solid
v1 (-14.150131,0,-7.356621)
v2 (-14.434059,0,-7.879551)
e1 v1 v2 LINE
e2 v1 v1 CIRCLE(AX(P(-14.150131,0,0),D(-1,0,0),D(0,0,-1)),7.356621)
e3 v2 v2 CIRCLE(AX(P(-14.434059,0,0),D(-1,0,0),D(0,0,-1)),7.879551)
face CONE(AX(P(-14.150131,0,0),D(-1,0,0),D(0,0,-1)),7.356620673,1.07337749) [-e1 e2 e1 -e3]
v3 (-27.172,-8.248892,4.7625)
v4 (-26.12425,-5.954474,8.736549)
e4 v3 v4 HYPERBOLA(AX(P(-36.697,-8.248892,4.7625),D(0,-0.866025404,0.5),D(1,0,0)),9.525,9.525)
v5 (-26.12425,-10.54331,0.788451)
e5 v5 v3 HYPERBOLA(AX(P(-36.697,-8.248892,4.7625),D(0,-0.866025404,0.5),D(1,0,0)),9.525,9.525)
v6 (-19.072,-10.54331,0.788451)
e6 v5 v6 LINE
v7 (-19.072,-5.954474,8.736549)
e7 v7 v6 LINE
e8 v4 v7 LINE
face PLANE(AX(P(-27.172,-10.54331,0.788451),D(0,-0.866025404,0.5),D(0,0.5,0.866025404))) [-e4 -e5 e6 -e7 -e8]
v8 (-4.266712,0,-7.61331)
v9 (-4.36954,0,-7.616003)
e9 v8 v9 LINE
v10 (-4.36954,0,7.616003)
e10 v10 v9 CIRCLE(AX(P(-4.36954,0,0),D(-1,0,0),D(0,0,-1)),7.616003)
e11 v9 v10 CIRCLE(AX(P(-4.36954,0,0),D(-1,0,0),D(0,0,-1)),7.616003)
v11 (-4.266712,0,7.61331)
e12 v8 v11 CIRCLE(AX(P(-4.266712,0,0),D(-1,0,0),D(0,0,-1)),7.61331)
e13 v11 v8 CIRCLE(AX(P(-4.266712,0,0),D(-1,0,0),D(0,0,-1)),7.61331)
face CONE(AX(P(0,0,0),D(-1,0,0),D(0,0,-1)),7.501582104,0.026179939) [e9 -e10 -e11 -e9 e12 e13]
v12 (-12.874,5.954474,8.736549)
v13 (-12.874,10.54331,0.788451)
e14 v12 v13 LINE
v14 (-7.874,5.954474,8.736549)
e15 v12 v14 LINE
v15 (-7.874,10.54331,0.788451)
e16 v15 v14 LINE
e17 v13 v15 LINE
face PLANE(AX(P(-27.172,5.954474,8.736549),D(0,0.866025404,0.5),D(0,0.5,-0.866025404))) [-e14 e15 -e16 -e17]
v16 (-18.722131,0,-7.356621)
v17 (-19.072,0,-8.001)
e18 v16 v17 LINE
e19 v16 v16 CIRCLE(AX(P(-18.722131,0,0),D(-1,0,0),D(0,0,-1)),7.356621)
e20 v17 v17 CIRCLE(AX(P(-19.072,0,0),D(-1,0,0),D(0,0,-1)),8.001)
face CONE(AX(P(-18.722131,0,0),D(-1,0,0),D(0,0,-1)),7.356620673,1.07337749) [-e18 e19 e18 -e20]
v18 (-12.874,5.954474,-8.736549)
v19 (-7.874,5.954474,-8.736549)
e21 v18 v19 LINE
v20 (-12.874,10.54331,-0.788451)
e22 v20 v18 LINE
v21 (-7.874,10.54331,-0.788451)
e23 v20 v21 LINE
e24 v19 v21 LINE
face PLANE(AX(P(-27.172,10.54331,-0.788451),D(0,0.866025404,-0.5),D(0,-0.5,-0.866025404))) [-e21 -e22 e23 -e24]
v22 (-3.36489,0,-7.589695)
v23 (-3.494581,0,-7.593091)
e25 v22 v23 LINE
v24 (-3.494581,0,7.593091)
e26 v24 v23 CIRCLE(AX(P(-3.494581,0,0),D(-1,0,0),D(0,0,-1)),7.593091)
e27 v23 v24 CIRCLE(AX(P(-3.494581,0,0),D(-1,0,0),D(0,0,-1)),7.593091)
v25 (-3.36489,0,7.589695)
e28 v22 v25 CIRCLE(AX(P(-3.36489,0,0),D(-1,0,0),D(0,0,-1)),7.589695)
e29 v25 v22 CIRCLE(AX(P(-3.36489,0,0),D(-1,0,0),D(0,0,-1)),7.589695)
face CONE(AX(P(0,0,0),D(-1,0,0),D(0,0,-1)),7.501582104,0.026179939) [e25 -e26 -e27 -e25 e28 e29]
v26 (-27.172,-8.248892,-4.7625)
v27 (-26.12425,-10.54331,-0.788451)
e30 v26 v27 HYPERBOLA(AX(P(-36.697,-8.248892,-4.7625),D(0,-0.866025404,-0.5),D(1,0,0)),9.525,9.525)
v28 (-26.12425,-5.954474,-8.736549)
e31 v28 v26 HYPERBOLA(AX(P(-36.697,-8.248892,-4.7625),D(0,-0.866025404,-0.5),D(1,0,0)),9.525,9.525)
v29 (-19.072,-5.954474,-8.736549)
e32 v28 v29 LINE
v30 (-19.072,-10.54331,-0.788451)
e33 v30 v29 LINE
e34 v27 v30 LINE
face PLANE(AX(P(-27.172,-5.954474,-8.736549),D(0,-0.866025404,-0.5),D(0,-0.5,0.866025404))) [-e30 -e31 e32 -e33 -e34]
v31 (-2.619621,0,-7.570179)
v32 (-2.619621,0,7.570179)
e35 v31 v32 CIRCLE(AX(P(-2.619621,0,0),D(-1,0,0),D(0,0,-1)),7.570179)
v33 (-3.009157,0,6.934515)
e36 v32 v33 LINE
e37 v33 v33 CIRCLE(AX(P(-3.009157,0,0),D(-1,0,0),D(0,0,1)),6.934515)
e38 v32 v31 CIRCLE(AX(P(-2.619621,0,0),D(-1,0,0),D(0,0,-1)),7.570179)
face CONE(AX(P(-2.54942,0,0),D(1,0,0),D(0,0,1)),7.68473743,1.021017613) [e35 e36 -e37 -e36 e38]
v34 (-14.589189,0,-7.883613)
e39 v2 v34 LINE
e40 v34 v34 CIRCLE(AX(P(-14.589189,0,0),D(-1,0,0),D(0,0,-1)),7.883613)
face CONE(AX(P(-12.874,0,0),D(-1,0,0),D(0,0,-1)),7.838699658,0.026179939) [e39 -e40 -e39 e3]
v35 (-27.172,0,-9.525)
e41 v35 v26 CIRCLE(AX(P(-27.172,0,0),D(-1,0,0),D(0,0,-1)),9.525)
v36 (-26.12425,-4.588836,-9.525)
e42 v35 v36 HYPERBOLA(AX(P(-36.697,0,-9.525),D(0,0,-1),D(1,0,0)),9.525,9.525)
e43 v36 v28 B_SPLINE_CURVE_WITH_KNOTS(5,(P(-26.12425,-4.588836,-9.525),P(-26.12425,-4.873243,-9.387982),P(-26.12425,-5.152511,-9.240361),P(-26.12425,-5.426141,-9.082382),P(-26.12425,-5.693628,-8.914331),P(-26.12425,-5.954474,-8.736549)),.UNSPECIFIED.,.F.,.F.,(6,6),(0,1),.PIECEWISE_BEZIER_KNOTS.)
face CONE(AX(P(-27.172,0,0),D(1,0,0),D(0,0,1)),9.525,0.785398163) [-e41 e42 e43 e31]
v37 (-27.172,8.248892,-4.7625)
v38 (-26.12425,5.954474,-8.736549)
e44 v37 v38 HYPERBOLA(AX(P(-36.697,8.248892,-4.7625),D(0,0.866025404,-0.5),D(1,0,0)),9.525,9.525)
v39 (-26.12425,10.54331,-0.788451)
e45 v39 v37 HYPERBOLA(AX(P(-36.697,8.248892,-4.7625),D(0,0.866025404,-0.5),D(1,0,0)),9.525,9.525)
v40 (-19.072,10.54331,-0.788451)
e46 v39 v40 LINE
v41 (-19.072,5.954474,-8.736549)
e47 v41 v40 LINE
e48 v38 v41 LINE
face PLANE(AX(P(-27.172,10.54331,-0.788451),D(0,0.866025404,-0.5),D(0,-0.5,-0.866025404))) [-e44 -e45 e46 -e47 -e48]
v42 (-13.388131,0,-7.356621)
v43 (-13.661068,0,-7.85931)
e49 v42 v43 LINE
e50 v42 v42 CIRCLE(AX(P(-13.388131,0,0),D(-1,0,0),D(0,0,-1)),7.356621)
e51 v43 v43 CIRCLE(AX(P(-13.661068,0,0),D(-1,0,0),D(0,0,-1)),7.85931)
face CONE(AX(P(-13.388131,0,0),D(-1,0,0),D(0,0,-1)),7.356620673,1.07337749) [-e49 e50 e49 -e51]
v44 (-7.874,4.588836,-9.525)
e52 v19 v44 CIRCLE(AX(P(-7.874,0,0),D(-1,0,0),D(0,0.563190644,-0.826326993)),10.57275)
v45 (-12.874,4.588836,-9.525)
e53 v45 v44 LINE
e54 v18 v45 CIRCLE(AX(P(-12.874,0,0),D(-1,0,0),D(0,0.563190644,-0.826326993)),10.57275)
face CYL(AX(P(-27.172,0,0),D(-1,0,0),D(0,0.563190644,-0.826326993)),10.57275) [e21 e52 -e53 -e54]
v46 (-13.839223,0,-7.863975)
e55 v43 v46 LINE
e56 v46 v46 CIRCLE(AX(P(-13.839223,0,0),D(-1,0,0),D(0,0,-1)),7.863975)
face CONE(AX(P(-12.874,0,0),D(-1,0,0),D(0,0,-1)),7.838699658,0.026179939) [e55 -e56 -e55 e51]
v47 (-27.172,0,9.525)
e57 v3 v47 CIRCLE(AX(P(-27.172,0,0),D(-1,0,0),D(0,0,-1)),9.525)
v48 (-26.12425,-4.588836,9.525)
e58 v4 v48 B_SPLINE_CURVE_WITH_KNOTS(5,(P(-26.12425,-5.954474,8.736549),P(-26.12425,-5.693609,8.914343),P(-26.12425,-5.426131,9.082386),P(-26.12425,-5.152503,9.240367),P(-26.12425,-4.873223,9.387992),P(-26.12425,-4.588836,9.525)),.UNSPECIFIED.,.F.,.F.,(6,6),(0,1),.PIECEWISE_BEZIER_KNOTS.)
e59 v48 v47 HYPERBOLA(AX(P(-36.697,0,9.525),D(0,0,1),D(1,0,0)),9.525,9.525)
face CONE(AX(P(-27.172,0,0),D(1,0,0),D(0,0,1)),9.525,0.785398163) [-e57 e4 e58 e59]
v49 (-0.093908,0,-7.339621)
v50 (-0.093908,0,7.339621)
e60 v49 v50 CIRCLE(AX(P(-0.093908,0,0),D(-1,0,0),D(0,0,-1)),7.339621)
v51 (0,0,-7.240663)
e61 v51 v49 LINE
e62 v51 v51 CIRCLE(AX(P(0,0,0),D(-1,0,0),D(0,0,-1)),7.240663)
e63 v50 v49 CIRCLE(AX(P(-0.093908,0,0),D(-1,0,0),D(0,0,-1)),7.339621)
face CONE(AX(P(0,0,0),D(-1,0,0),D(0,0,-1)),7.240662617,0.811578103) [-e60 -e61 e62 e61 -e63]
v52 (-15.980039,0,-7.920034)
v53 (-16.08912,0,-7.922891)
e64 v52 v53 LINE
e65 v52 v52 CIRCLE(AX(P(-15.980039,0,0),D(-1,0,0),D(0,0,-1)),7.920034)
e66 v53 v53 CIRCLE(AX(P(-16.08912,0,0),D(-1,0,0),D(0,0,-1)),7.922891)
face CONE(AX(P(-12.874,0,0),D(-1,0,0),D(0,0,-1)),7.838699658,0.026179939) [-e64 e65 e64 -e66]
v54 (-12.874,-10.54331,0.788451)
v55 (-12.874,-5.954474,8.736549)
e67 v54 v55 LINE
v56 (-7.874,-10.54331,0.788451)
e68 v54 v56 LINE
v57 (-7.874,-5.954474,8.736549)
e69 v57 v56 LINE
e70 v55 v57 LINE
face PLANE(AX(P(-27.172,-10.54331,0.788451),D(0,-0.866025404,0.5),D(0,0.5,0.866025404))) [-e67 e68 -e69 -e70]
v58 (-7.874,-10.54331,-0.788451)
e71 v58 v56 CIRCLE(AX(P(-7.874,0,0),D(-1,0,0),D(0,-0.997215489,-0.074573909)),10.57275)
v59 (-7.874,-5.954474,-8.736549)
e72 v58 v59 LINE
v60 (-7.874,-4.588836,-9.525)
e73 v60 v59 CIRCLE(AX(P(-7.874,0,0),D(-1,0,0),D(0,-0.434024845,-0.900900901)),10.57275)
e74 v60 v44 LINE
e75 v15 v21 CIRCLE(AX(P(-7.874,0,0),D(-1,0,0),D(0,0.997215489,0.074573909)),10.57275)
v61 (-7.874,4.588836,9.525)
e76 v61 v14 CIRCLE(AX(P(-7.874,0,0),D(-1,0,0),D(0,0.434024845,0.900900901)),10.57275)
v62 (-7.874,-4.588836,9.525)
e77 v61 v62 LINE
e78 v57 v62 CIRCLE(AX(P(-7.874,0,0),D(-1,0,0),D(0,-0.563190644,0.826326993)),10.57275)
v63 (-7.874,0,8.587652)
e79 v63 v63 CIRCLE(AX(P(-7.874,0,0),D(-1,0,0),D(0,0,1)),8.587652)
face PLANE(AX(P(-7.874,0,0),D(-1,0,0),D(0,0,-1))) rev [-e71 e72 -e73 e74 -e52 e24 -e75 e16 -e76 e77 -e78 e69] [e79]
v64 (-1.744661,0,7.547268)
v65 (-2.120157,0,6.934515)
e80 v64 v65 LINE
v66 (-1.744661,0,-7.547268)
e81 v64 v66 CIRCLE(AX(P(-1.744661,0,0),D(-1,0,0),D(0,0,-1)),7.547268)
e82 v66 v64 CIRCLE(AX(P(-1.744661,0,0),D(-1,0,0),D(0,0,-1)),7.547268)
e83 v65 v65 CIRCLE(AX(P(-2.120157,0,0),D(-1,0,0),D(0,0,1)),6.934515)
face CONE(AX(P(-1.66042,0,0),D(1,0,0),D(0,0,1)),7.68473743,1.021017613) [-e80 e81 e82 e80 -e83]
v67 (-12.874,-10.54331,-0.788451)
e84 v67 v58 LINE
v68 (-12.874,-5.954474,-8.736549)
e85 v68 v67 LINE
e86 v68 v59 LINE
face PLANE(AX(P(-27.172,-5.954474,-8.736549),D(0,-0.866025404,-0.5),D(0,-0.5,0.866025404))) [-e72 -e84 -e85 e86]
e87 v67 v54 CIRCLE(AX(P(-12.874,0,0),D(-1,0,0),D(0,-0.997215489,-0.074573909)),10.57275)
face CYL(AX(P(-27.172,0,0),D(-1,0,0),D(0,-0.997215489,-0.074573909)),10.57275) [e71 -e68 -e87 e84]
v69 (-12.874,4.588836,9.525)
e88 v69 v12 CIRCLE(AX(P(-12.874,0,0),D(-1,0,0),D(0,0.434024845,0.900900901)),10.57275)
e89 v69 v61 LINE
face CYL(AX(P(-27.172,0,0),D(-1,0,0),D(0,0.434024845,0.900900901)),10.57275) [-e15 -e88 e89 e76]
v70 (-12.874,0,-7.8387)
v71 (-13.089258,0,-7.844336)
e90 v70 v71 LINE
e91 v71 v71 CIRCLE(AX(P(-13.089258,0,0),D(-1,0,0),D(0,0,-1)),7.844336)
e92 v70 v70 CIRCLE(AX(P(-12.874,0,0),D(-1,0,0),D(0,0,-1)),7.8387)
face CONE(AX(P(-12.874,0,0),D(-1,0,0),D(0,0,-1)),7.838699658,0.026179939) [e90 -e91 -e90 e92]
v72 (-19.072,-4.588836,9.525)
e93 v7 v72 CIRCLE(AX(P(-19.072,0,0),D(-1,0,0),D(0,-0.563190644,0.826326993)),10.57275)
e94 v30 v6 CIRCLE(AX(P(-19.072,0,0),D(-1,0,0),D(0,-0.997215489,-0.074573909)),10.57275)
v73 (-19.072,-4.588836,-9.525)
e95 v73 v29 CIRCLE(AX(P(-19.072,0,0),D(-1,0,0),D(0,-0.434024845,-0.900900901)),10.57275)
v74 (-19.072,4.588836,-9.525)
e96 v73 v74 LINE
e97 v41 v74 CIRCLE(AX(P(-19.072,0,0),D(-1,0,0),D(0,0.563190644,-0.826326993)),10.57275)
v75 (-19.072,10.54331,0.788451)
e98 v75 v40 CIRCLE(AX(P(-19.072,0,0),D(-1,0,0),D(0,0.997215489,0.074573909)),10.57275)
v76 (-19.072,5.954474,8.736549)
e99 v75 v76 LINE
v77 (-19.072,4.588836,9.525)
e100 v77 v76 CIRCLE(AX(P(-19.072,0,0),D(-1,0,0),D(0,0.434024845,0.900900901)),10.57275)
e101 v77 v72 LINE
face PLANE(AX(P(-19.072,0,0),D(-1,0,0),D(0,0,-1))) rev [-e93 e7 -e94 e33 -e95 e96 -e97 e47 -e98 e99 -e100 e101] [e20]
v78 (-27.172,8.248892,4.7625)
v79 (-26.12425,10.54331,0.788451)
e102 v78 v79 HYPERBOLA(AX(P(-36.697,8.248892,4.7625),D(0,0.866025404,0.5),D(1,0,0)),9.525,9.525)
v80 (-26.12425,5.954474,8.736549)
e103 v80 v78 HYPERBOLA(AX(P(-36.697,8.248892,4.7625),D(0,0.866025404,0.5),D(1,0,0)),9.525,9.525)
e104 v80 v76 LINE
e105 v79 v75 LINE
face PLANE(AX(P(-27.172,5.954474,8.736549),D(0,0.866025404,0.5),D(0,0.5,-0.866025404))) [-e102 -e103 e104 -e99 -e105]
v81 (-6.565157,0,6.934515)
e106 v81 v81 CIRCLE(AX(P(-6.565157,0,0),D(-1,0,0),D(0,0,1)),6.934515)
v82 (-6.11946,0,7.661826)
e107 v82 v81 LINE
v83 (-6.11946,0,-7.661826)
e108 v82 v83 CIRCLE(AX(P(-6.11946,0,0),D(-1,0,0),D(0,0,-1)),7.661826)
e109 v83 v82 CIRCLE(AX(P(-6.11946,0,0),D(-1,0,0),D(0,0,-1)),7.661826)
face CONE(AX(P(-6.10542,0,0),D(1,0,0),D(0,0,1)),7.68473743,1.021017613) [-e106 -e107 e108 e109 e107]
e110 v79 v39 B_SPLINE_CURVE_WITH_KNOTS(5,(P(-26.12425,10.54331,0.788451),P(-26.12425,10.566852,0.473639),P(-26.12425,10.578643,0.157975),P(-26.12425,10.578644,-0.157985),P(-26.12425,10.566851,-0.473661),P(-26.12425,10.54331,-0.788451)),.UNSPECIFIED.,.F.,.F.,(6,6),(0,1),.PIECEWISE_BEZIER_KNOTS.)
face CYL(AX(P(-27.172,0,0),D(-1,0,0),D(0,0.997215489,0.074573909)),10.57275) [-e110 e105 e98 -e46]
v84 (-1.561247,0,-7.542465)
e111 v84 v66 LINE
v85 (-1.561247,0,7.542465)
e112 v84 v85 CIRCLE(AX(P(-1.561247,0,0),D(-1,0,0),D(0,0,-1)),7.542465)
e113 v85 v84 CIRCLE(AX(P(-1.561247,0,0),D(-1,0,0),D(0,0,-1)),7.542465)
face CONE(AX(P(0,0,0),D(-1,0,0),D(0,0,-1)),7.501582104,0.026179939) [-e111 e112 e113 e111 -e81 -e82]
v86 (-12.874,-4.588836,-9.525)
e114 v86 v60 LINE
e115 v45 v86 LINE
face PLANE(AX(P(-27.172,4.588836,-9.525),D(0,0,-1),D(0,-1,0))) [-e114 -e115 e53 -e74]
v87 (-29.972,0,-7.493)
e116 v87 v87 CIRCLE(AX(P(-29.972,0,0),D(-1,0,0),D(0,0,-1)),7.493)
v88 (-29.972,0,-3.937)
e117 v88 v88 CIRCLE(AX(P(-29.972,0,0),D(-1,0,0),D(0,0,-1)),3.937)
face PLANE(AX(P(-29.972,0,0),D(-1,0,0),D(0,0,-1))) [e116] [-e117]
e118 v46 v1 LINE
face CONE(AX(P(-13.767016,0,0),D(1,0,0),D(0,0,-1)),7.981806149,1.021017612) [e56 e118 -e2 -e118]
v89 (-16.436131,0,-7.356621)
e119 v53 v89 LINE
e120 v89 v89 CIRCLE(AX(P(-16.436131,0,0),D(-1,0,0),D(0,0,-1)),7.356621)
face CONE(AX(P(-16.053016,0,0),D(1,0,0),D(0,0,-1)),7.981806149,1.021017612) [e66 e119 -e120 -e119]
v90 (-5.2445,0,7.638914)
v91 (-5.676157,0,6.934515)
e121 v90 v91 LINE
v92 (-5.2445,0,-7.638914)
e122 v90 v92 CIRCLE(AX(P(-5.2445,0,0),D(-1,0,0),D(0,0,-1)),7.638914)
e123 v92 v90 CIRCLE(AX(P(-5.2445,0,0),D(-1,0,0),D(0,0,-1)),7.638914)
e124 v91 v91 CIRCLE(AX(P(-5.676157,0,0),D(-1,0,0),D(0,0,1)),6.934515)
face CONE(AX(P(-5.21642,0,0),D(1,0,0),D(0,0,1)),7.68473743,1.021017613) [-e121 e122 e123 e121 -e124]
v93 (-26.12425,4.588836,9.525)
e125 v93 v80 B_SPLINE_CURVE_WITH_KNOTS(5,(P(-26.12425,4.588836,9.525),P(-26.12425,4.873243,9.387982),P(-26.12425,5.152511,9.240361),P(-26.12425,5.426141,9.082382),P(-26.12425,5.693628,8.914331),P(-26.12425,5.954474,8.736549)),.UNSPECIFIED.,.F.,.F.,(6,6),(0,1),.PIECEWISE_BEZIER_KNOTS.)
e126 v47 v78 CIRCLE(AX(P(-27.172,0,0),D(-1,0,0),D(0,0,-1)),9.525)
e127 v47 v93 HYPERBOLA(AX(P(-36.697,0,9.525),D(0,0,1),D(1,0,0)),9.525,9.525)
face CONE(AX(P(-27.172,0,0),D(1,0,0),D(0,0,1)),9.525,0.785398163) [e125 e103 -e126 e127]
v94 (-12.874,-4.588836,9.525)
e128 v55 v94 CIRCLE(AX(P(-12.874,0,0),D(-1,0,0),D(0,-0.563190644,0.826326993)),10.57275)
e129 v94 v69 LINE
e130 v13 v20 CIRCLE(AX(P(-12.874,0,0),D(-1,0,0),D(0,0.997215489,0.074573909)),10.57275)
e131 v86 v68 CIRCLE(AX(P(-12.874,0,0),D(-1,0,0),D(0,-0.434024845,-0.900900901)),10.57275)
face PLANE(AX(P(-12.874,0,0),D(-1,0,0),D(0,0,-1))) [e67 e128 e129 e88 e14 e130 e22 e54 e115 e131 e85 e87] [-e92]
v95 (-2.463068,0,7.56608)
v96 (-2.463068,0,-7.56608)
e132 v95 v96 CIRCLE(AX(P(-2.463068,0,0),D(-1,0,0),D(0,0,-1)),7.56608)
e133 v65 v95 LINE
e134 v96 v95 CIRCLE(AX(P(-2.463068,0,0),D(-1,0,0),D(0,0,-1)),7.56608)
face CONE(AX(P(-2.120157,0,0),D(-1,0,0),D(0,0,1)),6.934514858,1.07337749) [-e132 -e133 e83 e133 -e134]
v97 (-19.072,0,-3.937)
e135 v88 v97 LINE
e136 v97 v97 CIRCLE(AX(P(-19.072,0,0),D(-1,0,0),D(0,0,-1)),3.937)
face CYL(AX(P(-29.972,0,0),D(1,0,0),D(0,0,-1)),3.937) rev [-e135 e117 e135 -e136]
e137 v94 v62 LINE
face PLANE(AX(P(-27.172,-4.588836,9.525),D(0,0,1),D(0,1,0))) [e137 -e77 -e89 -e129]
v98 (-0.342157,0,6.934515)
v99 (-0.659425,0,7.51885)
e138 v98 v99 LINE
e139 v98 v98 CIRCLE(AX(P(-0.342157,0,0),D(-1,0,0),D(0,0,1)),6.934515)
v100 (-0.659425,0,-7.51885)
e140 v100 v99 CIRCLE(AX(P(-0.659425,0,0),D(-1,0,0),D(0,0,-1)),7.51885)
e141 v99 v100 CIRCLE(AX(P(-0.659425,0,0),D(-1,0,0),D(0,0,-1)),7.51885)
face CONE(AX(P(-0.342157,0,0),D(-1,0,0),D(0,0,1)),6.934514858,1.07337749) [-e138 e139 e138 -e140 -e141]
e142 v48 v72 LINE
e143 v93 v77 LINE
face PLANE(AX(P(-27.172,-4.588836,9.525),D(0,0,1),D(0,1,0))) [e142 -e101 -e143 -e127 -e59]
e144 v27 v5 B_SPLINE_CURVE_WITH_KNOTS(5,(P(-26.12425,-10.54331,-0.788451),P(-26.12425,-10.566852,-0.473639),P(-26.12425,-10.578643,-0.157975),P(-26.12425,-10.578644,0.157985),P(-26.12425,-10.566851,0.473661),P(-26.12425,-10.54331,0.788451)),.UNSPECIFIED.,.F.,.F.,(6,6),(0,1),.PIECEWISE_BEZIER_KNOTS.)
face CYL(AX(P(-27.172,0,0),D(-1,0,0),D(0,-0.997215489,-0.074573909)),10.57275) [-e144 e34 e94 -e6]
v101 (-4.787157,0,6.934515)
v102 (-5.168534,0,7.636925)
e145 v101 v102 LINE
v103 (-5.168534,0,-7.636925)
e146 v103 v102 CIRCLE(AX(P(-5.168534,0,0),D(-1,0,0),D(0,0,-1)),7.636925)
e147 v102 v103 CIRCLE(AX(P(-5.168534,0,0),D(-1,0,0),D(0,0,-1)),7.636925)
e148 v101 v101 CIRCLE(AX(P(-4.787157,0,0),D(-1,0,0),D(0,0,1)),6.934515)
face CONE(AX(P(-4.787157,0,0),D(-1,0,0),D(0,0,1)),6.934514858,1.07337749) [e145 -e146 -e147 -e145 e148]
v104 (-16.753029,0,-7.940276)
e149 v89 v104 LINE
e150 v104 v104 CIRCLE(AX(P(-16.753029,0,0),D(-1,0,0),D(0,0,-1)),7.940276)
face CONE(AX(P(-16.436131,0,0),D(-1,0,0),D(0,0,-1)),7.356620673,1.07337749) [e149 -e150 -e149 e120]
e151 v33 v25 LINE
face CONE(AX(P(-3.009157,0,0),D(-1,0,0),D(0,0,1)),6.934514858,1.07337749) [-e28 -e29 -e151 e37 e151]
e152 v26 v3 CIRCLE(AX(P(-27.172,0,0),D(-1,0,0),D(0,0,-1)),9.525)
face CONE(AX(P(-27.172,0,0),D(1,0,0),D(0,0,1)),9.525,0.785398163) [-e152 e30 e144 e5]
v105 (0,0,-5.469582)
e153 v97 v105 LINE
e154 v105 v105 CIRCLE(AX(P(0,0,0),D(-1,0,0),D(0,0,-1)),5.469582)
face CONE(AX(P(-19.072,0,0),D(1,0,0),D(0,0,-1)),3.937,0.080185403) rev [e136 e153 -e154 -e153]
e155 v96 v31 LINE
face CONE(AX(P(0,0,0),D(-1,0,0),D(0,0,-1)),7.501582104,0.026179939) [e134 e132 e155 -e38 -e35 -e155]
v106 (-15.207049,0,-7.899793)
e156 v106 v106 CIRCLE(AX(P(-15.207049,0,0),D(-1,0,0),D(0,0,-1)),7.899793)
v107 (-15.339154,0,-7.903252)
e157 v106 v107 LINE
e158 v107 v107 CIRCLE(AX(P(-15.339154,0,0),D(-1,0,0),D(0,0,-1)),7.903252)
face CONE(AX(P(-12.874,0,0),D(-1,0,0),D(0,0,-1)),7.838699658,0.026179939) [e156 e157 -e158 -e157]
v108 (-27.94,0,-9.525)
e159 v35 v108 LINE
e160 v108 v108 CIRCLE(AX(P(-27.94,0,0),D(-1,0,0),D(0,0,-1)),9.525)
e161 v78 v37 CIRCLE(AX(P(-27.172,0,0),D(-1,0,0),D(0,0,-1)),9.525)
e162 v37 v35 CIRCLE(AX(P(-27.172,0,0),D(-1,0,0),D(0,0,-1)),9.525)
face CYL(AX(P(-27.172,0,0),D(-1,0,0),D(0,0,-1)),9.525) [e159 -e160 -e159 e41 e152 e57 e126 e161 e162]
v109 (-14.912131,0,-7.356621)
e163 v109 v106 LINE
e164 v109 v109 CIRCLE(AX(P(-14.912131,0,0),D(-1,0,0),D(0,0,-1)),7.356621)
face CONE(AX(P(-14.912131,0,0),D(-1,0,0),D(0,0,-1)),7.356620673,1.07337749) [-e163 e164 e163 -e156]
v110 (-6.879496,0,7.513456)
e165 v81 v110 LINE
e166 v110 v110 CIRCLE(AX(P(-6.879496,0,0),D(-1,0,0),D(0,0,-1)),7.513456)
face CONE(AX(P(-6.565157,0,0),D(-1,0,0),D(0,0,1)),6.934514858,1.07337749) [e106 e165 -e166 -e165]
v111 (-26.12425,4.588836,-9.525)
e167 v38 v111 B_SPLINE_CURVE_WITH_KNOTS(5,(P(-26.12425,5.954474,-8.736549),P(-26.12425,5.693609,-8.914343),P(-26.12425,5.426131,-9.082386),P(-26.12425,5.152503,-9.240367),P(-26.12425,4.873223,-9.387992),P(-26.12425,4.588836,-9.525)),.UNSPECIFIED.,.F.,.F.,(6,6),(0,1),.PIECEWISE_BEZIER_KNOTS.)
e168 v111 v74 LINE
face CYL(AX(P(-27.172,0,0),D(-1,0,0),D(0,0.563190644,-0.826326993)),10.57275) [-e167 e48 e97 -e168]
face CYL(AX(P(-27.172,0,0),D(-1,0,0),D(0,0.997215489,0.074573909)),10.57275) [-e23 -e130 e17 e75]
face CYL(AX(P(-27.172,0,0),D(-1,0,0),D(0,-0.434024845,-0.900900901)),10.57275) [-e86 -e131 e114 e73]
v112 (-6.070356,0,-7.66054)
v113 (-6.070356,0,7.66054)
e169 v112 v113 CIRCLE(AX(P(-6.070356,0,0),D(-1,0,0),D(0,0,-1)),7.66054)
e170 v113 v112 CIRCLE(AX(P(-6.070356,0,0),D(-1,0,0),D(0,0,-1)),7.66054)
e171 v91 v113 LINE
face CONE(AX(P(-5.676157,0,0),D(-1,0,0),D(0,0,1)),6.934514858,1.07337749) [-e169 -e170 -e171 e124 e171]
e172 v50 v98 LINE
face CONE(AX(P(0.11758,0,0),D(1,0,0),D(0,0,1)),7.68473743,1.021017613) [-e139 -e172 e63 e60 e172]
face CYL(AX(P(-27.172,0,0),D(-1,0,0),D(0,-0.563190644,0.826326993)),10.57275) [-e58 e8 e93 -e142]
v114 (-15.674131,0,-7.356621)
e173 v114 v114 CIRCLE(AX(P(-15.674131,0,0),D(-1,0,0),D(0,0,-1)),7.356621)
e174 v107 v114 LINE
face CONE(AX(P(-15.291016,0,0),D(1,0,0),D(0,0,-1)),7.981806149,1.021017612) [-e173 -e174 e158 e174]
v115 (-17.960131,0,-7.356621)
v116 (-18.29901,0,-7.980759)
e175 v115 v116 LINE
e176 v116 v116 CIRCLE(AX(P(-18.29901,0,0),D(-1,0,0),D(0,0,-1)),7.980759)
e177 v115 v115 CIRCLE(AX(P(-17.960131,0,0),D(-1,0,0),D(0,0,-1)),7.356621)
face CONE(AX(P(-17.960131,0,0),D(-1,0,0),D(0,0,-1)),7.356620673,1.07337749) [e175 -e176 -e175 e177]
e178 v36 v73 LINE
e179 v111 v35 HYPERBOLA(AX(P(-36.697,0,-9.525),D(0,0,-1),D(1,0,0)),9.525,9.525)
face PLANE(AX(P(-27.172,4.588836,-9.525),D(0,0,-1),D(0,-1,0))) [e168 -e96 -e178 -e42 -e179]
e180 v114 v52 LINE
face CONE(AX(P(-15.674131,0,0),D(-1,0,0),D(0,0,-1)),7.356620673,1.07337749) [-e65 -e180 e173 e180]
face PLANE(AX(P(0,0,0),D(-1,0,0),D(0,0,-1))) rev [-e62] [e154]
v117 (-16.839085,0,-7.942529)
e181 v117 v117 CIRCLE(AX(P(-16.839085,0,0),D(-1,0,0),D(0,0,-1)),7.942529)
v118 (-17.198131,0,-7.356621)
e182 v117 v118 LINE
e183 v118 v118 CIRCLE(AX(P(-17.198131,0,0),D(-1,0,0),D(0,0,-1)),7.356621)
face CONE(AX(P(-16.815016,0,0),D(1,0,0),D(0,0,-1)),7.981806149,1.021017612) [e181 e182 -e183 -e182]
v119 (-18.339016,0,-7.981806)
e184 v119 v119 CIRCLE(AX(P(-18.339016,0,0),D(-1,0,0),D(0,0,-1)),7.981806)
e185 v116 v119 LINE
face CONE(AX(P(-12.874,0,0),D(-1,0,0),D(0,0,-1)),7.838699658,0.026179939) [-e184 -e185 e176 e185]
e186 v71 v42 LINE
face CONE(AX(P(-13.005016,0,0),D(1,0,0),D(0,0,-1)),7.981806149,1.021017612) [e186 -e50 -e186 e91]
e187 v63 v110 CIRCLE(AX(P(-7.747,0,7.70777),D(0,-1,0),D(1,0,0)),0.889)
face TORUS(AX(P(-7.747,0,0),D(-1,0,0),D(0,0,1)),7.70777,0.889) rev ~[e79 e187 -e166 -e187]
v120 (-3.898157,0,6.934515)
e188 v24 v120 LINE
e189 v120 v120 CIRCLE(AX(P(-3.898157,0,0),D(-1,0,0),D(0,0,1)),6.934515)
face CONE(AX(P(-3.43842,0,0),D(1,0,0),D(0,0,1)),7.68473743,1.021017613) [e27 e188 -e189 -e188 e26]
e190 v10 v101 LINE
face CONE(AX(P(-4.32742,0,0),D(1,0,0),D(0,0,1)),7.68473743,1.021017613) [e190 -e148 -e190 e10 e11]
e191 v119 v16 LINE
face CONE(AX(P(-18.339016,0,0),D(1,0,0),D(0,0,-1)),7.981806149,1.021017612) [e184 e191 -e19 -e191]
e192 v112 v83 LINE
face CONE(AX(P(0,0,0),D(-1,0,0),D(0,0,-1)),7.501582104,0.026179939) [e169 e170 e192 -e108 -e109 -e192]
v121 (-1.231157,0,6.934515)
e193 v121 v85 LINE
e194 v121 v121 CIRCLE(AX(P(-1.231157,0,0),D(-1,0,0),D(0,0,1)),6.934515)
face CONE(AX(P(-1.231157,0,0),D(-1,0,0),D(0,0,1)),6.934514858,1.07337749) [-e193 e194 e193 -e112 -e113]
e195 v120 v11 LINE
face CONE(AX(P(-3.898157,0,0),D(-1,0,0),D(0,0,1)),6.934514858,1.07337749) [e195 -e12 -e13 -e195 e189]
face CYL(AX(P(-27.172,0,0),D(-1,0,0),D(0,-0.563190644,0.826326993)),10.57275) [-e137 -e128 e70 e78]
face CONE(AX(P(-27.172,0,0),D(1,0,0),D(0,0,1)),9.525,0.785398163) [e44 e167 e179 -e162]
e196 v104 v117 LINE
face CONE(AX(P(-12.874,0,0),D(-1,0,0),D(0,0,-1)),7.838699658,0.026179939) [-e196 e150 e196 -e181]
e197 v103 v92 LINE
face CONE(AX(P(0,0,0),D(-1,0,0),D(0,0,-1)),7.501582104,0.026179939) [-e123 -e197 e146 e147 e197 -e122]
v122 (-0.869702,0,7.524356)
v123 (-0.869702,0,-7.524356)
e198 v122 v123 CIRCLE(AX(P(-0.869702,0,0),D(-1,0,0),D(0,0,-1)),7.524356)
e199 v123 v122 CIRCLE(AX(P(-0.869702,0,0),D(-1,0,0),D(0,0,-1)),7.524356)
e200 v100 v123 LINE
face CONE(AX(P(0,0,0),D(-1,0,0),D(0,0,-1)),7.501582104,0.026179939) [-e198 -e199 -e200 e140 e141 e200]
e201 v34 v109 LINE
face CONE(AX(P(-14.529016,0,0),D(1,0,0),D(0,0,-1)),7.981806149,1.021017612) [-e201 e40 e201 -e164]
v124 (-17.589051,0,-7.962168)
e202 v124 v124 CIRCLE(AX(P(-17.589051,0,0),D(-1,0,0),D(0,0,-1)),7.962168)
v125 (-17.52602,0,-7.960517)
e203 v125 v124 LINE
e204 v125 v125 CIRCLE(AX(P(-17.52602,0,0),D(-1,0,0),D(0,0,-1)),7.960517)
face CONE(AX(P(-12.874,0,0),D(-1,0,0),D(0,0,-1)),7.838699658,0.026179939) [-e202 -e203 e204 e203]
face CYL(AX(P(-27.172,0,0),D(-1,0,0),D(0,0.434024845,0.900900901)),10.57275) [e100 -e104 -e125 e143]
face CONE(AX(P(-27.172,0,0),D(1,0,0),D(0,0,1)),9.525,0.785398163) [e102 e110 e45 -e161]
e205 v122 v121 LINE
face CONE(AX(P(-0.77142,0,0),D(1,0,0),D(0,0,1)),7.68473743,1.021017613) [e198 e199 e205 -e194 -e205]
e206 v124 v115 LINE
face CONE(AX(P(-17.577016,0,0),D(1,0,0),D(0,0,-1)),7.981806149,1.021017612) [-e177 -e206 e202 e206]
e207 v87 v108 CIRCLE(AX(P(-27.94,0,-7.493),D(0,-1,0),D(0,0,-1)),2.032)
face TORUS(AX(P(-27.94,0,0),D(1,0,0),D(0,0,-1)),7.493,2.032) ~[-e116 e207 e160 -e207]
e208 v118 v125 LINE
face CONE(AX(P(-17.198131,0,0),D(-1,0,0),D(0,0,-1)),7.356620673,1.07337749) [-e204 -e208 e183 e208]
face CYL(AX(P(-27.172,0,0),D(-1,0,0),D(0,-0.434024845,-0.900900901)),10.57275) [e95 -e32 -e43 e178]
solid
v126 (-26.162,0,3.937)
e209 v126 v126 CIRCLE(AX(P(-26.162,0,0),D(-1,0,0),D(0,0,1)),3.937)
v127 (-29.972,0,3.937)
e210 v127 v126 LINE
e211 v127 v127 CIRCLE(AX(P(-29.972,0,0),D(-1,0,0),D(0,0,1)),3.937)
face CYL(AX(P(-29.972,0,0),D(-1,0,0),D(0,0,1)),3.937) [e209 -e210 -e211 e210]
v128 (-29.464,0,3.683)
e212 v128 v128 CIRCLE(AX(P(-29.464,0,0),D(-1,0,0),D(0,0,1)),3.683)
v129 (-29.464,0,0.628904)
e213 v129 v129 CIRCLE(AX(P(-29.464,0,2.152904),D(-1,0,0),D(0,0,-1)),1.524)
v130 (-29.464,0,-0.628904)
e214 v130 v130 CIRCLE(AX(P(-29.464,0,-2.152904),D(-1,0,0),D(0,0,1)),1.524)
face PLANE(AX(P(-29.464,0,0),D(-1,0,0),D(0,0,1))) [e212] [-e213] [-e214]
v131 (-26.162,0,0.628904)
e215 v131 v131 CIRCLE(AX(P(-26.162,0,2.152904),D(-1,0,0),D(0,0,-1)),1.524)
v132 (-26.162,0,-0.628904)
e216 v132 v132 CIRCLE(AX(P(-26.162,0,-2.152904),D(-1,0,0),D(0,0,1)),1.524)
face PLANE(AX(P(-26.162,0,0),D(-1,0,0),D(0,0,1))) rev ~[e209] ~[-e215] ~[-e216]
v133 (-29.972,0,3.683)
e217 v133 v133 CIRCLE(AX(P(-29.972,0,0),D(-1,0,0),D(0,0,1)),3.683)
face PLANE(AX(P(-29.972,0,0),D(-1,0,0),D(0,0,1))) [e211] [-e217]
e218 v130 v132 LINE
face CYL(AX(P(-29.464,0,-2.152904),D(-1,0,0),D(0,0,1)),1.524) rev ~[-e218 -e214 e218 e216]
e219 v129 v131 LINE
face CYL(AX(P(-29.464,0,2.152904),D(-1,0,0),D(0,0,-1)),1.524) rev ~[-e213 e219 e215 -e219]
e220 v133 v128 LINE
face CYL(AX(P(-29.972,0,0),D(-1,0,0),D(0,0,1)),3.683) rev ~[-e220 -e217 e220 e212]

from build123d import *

# Parameters (mm, degrees)
SKETCH12_OUTSIDE_W = 52.432
SKETCH12_OUTSIDE_H = 52.432
CUT_EXTRUDE2_DEPTH = 28.172
FILLET4_R          = 2.032
SKETCH19_OUTSIDE_W = 33.316
SKETCH19_OUTSIDE_H = 35.412
SKETCH19_OUTSIDE_R = 9.525
CUT_EXTRUDE3_DEPTH = 1.999996
CUT_EXTRUDE3_DRAFT = -45
CHAMFER1_SIZE      = 0.260919487
CHAMFER1_SIZE2     = 0.254
SKETCH21_R         = 3.937
PLUG_DEPTH         = 3.81
SKETCH22_R         = 3.683
CUT_EXTRUDE4_DEPTH = 0.508
SKETCH27_R         = 1.524
PLUGHOLES_DEPTH    = 30.464
CIRPATTERN1_COUNT  = 2
LPATTERN1_COUNT    = 8
LPATTERN1_PITCH    = 0.762
LPATTERN2_COUNT    = 9
LPATTERN2_PITCH    = 0.889
SKETCH32_R         = 0.889


with BuildPart() as part:
    # Sketch10 → Revolve2 (revolve)
    with BuildSketch(Plane.XY, mode=Mode.PRIVATE) as revolve2_sk:
        Polygon((-29.972, 3.937), (-19.072, 3.937), (0, 5.469582104), (0, 7.501582104), (-7.874, 7.70777005), (-7.874, 19.05), (-12.874, 19.05), (-12.874, 7.838699658), (-19.072, 8.001), (-19.072, 19.05), (-27.172, 19.05), (-27.172, 9.525), (-29.972, 9.525), align=None)
    revolve(revolve2_sk.sketch.rotate(Axis((0, 0, 0), (-1, 0, 0)), 90), axis=Axis((0, 0, 0), (-1, 0, 0)))  # turned: the seam where the file's is

    # Sketch12 outside → Cut-Extrude2 (cut, through all)
    with BuildSketch(Plane.ZY.offset(27.172)):
        Rectangle(SKETCH12_OUTSIDE_W, SKETCH12_OUTSIDE_H)
        with BuildLine():
            Line((-0.788451287, 10.543310065), (-8.736548713, 5.954473877))
            ThreePointArc((-8.736548713, 5.954473877), (-9.156270088, 5.286375), (-9.525, 4.588836188))
            Line((-9.525, 4.588836188), (-9.525, -4.588836188))
            ThreePointArc((-9.525, -4.588836188), (-9.156270088, -5.286375), (-8.736548713, -5.954473877))
            Line((-8.736548713, -5.954473877), (-0.788451287, -10.543310065))
            ThreePointArc((-0.788451287, -10.543310065), (0, -10.57275), (0.788451287, -10.543310065))
            Line((0.788451287, -10.543310065), (8.736548713, -5.954473877))
            ThreePointArc((8.736548713, -5.954473877), (9.156270088, -5.286375), (9.525, -4.588836188))
            Line((9.525, -4.588836188), (9.525, 4.588836188))
            ThreePointArc((9.525, 4.588836188), (9.156270088, 5.286375), (8.736548713, 5.954473877))
            Line((8.736548713, 5.954473877), (0.788451287, 10.543310065))
            ThreePointArc((0.788451287, 10.543310065), (0, 10.57275), (-0.788451287, 10.543310065))
        make_face(mode=Mode.SUBTRACT)
    extrude(amount=-CUT_EXTRUDE2_DEPTH, mode=Mode.SUBTRACT)

    # Fillet4
    fillet4_edges = [part.edges().sort_by_distance(p)[0] for p in [
        (-29.972, 0, 9.525),
    ]]
    fillet(fillet4_edges, radius=FILLET4_R)


with BuildPart() as cut_extrude3_tool:
    # Sketch19 outside → Cut-Extrude3 (with draft: the straight prism first)
    with BuildSketch(Plane.ZY.offset(27.172)):
        Rectangle(SKETCH19_OUTSIDE_W, SKETCH19_OUTSIDE_H)
        Circle(SKETCH19_OUTSIDE_R, mode=Mode.SUBTRACT)
    extrude(amount=-CUT_EXTRUDE3_DEPTH)
    # Cut-Extrude3: the draft: its side faces are tilted about the plane it starts from
    cut_extrude3_sides = [cut_extrude3_tool.faces().sort_by_distance(p)[0] for p in [
        (-26.172002, -17.706, 0),
        (-26.172002, 0, 16.658),
        (-26.172002, 17.706, 0),
        (-26.172002, 0, -16.658),
        (-26.172002, 0, -9.525),
    ]]
    draft(cut_extrude3_sides, Plane.ZY.offset(27.172), CUT_EXTRUDE3_DRAFT)


with BuildPart() as part_1:
    add(part.part)

    # Cut-Extrude3: cut by cut_extrude3_tool
    add(cut_extrude3_tool.part, mode=Mode.SUBTRACT)

    # Chamfer1
    chamfer1_edges = [part_1.edges().sort_by_distance(p)[0] for p in [
        (0, 0, 7.501582104),
    ]]
    chamfer1_side = [part_1.faces().sort_by_distance(p)[0] for p in [
        (0, 0, 5.681758887),
    ]]
    chamfer(chamfer1_edges, length=CHAMFER1_SIZE, length2=CHAMFER1_SIZE2, reference=chamfer1_side[0])

    # Sketch29 → Cut-Revolve1 (revolve, cut)
    with BuildSketch(Plane.XY, mode=Mode.PRIVATE) as cut_revolve1_sk:
        Polygon((-19.072, 8.001), (-18.339016419, 7.981806149), (-18.722130572, 7.356620673), align=None)
    cut_revolve1 = revolve(cut_revolve1_sk.sketch.rotate(Axis((0, 0, 0), (-1, 0, 0)), 90), axis=Axis((0, 0, 0), (-1, 0, 0)), mode=Mode.SUBTRACT)  # turned: the seam where the file's is

    # LPattern1: Cut-Revolve1 ×8
    with Locations(*[(i * LPATTERN1_PITCH, 0, 0) for i in range(1, LPATTERN1_COUNT)]):
        add(cut_revolve1, mode=Mode.SUBTRACT)

    # Sketch30 → Cut-Revolve2 (revolve, cut)
    with BuildSketch(Plane.XY, mode=Mode.PRIVATE) as cut_revolve2_sk:
        Polygon((-7.874, 7.70777005), (-6.994419703, 7.68473743), (-7.454156686, 6.934514858), align=None)
    cut_revolve2 = revolve(cut_revolve2_sk.sketch.rotate(Axis((0, 0, 0), (-1, 0, 0)), 270), axis=Axis((0, 0, 0), (-1, 0, 0)), mode=Mode.SUBTRACT)  # turned: the seam where the file's is

    # LPattern2: Cut-Revolve2 ×9
    with Locations(*[(i * LPATTERN2_PITCH, 0, 0) for i in range(1, LPATTERN2_COUNT)]):
        add(cut_revolve2, mode=Mode.SUBTRACT)

    # Sketch32 → Cut-Revolve3 (revolve, cut)
    with BuildSketch(Plane.XY, mode=Mode.PRIVATE) as cut_revolve3_sk:
        with Locations((-7.747, 7.70777005)):
            Circle(SKETCH32_R)
    revolve(cut_revolve3_sk.sketch.rotate(Axis((0, 0, 0), (-1, 0, 0)), 270), axis=Axis((0, 0, 0), (-1, 0, 0)), mode=Mode.SUBTRACT)  # turned: the seam where the file's is


with BuildPart() as body_2:
    # Sketch21 → plug (new body)
    with BuildSketch(Plane.ZY.offset(29.972)):
        Circle(SKETCH21_R)
    extrude(amount=-PLUG_DEPTH)

    # Sketch22 → Cut-Extrude4 (cut)
    with BuildSketch(Plane.ZY.offset(29.972)):
        Circle(SKETCH22_R)
    extrude(amount=-CUT_EXTRUDE4_DEPTH, mode=Mode.SUBTRACT)

    # Sketch27 → plugholes (cut, through all)
    with BuildSketch(Plane.ZY.offset(29.464)):
        with Locations((-2.152904, 0)):
            Circle(SKETCH27_R)
    plugholes = extrude(amount=-PLUGHOLES_DEPTH, mode=Mode.SUBTRACT)

    # CirPattern1: plugholes ×2 about axis
    cirpattern1_axis = Axis((0, 0, 0), (1, 0, 0))
    for i in range(1, CIRPATTERN1_COUNT):
        add(plugholes.rotate(cirpattern1_axis, i * 360 / CIRPATTERN1_COUNT), mode=Mode.SUBTRACT)


solid = Compound([part_1.part, body_2.part])
